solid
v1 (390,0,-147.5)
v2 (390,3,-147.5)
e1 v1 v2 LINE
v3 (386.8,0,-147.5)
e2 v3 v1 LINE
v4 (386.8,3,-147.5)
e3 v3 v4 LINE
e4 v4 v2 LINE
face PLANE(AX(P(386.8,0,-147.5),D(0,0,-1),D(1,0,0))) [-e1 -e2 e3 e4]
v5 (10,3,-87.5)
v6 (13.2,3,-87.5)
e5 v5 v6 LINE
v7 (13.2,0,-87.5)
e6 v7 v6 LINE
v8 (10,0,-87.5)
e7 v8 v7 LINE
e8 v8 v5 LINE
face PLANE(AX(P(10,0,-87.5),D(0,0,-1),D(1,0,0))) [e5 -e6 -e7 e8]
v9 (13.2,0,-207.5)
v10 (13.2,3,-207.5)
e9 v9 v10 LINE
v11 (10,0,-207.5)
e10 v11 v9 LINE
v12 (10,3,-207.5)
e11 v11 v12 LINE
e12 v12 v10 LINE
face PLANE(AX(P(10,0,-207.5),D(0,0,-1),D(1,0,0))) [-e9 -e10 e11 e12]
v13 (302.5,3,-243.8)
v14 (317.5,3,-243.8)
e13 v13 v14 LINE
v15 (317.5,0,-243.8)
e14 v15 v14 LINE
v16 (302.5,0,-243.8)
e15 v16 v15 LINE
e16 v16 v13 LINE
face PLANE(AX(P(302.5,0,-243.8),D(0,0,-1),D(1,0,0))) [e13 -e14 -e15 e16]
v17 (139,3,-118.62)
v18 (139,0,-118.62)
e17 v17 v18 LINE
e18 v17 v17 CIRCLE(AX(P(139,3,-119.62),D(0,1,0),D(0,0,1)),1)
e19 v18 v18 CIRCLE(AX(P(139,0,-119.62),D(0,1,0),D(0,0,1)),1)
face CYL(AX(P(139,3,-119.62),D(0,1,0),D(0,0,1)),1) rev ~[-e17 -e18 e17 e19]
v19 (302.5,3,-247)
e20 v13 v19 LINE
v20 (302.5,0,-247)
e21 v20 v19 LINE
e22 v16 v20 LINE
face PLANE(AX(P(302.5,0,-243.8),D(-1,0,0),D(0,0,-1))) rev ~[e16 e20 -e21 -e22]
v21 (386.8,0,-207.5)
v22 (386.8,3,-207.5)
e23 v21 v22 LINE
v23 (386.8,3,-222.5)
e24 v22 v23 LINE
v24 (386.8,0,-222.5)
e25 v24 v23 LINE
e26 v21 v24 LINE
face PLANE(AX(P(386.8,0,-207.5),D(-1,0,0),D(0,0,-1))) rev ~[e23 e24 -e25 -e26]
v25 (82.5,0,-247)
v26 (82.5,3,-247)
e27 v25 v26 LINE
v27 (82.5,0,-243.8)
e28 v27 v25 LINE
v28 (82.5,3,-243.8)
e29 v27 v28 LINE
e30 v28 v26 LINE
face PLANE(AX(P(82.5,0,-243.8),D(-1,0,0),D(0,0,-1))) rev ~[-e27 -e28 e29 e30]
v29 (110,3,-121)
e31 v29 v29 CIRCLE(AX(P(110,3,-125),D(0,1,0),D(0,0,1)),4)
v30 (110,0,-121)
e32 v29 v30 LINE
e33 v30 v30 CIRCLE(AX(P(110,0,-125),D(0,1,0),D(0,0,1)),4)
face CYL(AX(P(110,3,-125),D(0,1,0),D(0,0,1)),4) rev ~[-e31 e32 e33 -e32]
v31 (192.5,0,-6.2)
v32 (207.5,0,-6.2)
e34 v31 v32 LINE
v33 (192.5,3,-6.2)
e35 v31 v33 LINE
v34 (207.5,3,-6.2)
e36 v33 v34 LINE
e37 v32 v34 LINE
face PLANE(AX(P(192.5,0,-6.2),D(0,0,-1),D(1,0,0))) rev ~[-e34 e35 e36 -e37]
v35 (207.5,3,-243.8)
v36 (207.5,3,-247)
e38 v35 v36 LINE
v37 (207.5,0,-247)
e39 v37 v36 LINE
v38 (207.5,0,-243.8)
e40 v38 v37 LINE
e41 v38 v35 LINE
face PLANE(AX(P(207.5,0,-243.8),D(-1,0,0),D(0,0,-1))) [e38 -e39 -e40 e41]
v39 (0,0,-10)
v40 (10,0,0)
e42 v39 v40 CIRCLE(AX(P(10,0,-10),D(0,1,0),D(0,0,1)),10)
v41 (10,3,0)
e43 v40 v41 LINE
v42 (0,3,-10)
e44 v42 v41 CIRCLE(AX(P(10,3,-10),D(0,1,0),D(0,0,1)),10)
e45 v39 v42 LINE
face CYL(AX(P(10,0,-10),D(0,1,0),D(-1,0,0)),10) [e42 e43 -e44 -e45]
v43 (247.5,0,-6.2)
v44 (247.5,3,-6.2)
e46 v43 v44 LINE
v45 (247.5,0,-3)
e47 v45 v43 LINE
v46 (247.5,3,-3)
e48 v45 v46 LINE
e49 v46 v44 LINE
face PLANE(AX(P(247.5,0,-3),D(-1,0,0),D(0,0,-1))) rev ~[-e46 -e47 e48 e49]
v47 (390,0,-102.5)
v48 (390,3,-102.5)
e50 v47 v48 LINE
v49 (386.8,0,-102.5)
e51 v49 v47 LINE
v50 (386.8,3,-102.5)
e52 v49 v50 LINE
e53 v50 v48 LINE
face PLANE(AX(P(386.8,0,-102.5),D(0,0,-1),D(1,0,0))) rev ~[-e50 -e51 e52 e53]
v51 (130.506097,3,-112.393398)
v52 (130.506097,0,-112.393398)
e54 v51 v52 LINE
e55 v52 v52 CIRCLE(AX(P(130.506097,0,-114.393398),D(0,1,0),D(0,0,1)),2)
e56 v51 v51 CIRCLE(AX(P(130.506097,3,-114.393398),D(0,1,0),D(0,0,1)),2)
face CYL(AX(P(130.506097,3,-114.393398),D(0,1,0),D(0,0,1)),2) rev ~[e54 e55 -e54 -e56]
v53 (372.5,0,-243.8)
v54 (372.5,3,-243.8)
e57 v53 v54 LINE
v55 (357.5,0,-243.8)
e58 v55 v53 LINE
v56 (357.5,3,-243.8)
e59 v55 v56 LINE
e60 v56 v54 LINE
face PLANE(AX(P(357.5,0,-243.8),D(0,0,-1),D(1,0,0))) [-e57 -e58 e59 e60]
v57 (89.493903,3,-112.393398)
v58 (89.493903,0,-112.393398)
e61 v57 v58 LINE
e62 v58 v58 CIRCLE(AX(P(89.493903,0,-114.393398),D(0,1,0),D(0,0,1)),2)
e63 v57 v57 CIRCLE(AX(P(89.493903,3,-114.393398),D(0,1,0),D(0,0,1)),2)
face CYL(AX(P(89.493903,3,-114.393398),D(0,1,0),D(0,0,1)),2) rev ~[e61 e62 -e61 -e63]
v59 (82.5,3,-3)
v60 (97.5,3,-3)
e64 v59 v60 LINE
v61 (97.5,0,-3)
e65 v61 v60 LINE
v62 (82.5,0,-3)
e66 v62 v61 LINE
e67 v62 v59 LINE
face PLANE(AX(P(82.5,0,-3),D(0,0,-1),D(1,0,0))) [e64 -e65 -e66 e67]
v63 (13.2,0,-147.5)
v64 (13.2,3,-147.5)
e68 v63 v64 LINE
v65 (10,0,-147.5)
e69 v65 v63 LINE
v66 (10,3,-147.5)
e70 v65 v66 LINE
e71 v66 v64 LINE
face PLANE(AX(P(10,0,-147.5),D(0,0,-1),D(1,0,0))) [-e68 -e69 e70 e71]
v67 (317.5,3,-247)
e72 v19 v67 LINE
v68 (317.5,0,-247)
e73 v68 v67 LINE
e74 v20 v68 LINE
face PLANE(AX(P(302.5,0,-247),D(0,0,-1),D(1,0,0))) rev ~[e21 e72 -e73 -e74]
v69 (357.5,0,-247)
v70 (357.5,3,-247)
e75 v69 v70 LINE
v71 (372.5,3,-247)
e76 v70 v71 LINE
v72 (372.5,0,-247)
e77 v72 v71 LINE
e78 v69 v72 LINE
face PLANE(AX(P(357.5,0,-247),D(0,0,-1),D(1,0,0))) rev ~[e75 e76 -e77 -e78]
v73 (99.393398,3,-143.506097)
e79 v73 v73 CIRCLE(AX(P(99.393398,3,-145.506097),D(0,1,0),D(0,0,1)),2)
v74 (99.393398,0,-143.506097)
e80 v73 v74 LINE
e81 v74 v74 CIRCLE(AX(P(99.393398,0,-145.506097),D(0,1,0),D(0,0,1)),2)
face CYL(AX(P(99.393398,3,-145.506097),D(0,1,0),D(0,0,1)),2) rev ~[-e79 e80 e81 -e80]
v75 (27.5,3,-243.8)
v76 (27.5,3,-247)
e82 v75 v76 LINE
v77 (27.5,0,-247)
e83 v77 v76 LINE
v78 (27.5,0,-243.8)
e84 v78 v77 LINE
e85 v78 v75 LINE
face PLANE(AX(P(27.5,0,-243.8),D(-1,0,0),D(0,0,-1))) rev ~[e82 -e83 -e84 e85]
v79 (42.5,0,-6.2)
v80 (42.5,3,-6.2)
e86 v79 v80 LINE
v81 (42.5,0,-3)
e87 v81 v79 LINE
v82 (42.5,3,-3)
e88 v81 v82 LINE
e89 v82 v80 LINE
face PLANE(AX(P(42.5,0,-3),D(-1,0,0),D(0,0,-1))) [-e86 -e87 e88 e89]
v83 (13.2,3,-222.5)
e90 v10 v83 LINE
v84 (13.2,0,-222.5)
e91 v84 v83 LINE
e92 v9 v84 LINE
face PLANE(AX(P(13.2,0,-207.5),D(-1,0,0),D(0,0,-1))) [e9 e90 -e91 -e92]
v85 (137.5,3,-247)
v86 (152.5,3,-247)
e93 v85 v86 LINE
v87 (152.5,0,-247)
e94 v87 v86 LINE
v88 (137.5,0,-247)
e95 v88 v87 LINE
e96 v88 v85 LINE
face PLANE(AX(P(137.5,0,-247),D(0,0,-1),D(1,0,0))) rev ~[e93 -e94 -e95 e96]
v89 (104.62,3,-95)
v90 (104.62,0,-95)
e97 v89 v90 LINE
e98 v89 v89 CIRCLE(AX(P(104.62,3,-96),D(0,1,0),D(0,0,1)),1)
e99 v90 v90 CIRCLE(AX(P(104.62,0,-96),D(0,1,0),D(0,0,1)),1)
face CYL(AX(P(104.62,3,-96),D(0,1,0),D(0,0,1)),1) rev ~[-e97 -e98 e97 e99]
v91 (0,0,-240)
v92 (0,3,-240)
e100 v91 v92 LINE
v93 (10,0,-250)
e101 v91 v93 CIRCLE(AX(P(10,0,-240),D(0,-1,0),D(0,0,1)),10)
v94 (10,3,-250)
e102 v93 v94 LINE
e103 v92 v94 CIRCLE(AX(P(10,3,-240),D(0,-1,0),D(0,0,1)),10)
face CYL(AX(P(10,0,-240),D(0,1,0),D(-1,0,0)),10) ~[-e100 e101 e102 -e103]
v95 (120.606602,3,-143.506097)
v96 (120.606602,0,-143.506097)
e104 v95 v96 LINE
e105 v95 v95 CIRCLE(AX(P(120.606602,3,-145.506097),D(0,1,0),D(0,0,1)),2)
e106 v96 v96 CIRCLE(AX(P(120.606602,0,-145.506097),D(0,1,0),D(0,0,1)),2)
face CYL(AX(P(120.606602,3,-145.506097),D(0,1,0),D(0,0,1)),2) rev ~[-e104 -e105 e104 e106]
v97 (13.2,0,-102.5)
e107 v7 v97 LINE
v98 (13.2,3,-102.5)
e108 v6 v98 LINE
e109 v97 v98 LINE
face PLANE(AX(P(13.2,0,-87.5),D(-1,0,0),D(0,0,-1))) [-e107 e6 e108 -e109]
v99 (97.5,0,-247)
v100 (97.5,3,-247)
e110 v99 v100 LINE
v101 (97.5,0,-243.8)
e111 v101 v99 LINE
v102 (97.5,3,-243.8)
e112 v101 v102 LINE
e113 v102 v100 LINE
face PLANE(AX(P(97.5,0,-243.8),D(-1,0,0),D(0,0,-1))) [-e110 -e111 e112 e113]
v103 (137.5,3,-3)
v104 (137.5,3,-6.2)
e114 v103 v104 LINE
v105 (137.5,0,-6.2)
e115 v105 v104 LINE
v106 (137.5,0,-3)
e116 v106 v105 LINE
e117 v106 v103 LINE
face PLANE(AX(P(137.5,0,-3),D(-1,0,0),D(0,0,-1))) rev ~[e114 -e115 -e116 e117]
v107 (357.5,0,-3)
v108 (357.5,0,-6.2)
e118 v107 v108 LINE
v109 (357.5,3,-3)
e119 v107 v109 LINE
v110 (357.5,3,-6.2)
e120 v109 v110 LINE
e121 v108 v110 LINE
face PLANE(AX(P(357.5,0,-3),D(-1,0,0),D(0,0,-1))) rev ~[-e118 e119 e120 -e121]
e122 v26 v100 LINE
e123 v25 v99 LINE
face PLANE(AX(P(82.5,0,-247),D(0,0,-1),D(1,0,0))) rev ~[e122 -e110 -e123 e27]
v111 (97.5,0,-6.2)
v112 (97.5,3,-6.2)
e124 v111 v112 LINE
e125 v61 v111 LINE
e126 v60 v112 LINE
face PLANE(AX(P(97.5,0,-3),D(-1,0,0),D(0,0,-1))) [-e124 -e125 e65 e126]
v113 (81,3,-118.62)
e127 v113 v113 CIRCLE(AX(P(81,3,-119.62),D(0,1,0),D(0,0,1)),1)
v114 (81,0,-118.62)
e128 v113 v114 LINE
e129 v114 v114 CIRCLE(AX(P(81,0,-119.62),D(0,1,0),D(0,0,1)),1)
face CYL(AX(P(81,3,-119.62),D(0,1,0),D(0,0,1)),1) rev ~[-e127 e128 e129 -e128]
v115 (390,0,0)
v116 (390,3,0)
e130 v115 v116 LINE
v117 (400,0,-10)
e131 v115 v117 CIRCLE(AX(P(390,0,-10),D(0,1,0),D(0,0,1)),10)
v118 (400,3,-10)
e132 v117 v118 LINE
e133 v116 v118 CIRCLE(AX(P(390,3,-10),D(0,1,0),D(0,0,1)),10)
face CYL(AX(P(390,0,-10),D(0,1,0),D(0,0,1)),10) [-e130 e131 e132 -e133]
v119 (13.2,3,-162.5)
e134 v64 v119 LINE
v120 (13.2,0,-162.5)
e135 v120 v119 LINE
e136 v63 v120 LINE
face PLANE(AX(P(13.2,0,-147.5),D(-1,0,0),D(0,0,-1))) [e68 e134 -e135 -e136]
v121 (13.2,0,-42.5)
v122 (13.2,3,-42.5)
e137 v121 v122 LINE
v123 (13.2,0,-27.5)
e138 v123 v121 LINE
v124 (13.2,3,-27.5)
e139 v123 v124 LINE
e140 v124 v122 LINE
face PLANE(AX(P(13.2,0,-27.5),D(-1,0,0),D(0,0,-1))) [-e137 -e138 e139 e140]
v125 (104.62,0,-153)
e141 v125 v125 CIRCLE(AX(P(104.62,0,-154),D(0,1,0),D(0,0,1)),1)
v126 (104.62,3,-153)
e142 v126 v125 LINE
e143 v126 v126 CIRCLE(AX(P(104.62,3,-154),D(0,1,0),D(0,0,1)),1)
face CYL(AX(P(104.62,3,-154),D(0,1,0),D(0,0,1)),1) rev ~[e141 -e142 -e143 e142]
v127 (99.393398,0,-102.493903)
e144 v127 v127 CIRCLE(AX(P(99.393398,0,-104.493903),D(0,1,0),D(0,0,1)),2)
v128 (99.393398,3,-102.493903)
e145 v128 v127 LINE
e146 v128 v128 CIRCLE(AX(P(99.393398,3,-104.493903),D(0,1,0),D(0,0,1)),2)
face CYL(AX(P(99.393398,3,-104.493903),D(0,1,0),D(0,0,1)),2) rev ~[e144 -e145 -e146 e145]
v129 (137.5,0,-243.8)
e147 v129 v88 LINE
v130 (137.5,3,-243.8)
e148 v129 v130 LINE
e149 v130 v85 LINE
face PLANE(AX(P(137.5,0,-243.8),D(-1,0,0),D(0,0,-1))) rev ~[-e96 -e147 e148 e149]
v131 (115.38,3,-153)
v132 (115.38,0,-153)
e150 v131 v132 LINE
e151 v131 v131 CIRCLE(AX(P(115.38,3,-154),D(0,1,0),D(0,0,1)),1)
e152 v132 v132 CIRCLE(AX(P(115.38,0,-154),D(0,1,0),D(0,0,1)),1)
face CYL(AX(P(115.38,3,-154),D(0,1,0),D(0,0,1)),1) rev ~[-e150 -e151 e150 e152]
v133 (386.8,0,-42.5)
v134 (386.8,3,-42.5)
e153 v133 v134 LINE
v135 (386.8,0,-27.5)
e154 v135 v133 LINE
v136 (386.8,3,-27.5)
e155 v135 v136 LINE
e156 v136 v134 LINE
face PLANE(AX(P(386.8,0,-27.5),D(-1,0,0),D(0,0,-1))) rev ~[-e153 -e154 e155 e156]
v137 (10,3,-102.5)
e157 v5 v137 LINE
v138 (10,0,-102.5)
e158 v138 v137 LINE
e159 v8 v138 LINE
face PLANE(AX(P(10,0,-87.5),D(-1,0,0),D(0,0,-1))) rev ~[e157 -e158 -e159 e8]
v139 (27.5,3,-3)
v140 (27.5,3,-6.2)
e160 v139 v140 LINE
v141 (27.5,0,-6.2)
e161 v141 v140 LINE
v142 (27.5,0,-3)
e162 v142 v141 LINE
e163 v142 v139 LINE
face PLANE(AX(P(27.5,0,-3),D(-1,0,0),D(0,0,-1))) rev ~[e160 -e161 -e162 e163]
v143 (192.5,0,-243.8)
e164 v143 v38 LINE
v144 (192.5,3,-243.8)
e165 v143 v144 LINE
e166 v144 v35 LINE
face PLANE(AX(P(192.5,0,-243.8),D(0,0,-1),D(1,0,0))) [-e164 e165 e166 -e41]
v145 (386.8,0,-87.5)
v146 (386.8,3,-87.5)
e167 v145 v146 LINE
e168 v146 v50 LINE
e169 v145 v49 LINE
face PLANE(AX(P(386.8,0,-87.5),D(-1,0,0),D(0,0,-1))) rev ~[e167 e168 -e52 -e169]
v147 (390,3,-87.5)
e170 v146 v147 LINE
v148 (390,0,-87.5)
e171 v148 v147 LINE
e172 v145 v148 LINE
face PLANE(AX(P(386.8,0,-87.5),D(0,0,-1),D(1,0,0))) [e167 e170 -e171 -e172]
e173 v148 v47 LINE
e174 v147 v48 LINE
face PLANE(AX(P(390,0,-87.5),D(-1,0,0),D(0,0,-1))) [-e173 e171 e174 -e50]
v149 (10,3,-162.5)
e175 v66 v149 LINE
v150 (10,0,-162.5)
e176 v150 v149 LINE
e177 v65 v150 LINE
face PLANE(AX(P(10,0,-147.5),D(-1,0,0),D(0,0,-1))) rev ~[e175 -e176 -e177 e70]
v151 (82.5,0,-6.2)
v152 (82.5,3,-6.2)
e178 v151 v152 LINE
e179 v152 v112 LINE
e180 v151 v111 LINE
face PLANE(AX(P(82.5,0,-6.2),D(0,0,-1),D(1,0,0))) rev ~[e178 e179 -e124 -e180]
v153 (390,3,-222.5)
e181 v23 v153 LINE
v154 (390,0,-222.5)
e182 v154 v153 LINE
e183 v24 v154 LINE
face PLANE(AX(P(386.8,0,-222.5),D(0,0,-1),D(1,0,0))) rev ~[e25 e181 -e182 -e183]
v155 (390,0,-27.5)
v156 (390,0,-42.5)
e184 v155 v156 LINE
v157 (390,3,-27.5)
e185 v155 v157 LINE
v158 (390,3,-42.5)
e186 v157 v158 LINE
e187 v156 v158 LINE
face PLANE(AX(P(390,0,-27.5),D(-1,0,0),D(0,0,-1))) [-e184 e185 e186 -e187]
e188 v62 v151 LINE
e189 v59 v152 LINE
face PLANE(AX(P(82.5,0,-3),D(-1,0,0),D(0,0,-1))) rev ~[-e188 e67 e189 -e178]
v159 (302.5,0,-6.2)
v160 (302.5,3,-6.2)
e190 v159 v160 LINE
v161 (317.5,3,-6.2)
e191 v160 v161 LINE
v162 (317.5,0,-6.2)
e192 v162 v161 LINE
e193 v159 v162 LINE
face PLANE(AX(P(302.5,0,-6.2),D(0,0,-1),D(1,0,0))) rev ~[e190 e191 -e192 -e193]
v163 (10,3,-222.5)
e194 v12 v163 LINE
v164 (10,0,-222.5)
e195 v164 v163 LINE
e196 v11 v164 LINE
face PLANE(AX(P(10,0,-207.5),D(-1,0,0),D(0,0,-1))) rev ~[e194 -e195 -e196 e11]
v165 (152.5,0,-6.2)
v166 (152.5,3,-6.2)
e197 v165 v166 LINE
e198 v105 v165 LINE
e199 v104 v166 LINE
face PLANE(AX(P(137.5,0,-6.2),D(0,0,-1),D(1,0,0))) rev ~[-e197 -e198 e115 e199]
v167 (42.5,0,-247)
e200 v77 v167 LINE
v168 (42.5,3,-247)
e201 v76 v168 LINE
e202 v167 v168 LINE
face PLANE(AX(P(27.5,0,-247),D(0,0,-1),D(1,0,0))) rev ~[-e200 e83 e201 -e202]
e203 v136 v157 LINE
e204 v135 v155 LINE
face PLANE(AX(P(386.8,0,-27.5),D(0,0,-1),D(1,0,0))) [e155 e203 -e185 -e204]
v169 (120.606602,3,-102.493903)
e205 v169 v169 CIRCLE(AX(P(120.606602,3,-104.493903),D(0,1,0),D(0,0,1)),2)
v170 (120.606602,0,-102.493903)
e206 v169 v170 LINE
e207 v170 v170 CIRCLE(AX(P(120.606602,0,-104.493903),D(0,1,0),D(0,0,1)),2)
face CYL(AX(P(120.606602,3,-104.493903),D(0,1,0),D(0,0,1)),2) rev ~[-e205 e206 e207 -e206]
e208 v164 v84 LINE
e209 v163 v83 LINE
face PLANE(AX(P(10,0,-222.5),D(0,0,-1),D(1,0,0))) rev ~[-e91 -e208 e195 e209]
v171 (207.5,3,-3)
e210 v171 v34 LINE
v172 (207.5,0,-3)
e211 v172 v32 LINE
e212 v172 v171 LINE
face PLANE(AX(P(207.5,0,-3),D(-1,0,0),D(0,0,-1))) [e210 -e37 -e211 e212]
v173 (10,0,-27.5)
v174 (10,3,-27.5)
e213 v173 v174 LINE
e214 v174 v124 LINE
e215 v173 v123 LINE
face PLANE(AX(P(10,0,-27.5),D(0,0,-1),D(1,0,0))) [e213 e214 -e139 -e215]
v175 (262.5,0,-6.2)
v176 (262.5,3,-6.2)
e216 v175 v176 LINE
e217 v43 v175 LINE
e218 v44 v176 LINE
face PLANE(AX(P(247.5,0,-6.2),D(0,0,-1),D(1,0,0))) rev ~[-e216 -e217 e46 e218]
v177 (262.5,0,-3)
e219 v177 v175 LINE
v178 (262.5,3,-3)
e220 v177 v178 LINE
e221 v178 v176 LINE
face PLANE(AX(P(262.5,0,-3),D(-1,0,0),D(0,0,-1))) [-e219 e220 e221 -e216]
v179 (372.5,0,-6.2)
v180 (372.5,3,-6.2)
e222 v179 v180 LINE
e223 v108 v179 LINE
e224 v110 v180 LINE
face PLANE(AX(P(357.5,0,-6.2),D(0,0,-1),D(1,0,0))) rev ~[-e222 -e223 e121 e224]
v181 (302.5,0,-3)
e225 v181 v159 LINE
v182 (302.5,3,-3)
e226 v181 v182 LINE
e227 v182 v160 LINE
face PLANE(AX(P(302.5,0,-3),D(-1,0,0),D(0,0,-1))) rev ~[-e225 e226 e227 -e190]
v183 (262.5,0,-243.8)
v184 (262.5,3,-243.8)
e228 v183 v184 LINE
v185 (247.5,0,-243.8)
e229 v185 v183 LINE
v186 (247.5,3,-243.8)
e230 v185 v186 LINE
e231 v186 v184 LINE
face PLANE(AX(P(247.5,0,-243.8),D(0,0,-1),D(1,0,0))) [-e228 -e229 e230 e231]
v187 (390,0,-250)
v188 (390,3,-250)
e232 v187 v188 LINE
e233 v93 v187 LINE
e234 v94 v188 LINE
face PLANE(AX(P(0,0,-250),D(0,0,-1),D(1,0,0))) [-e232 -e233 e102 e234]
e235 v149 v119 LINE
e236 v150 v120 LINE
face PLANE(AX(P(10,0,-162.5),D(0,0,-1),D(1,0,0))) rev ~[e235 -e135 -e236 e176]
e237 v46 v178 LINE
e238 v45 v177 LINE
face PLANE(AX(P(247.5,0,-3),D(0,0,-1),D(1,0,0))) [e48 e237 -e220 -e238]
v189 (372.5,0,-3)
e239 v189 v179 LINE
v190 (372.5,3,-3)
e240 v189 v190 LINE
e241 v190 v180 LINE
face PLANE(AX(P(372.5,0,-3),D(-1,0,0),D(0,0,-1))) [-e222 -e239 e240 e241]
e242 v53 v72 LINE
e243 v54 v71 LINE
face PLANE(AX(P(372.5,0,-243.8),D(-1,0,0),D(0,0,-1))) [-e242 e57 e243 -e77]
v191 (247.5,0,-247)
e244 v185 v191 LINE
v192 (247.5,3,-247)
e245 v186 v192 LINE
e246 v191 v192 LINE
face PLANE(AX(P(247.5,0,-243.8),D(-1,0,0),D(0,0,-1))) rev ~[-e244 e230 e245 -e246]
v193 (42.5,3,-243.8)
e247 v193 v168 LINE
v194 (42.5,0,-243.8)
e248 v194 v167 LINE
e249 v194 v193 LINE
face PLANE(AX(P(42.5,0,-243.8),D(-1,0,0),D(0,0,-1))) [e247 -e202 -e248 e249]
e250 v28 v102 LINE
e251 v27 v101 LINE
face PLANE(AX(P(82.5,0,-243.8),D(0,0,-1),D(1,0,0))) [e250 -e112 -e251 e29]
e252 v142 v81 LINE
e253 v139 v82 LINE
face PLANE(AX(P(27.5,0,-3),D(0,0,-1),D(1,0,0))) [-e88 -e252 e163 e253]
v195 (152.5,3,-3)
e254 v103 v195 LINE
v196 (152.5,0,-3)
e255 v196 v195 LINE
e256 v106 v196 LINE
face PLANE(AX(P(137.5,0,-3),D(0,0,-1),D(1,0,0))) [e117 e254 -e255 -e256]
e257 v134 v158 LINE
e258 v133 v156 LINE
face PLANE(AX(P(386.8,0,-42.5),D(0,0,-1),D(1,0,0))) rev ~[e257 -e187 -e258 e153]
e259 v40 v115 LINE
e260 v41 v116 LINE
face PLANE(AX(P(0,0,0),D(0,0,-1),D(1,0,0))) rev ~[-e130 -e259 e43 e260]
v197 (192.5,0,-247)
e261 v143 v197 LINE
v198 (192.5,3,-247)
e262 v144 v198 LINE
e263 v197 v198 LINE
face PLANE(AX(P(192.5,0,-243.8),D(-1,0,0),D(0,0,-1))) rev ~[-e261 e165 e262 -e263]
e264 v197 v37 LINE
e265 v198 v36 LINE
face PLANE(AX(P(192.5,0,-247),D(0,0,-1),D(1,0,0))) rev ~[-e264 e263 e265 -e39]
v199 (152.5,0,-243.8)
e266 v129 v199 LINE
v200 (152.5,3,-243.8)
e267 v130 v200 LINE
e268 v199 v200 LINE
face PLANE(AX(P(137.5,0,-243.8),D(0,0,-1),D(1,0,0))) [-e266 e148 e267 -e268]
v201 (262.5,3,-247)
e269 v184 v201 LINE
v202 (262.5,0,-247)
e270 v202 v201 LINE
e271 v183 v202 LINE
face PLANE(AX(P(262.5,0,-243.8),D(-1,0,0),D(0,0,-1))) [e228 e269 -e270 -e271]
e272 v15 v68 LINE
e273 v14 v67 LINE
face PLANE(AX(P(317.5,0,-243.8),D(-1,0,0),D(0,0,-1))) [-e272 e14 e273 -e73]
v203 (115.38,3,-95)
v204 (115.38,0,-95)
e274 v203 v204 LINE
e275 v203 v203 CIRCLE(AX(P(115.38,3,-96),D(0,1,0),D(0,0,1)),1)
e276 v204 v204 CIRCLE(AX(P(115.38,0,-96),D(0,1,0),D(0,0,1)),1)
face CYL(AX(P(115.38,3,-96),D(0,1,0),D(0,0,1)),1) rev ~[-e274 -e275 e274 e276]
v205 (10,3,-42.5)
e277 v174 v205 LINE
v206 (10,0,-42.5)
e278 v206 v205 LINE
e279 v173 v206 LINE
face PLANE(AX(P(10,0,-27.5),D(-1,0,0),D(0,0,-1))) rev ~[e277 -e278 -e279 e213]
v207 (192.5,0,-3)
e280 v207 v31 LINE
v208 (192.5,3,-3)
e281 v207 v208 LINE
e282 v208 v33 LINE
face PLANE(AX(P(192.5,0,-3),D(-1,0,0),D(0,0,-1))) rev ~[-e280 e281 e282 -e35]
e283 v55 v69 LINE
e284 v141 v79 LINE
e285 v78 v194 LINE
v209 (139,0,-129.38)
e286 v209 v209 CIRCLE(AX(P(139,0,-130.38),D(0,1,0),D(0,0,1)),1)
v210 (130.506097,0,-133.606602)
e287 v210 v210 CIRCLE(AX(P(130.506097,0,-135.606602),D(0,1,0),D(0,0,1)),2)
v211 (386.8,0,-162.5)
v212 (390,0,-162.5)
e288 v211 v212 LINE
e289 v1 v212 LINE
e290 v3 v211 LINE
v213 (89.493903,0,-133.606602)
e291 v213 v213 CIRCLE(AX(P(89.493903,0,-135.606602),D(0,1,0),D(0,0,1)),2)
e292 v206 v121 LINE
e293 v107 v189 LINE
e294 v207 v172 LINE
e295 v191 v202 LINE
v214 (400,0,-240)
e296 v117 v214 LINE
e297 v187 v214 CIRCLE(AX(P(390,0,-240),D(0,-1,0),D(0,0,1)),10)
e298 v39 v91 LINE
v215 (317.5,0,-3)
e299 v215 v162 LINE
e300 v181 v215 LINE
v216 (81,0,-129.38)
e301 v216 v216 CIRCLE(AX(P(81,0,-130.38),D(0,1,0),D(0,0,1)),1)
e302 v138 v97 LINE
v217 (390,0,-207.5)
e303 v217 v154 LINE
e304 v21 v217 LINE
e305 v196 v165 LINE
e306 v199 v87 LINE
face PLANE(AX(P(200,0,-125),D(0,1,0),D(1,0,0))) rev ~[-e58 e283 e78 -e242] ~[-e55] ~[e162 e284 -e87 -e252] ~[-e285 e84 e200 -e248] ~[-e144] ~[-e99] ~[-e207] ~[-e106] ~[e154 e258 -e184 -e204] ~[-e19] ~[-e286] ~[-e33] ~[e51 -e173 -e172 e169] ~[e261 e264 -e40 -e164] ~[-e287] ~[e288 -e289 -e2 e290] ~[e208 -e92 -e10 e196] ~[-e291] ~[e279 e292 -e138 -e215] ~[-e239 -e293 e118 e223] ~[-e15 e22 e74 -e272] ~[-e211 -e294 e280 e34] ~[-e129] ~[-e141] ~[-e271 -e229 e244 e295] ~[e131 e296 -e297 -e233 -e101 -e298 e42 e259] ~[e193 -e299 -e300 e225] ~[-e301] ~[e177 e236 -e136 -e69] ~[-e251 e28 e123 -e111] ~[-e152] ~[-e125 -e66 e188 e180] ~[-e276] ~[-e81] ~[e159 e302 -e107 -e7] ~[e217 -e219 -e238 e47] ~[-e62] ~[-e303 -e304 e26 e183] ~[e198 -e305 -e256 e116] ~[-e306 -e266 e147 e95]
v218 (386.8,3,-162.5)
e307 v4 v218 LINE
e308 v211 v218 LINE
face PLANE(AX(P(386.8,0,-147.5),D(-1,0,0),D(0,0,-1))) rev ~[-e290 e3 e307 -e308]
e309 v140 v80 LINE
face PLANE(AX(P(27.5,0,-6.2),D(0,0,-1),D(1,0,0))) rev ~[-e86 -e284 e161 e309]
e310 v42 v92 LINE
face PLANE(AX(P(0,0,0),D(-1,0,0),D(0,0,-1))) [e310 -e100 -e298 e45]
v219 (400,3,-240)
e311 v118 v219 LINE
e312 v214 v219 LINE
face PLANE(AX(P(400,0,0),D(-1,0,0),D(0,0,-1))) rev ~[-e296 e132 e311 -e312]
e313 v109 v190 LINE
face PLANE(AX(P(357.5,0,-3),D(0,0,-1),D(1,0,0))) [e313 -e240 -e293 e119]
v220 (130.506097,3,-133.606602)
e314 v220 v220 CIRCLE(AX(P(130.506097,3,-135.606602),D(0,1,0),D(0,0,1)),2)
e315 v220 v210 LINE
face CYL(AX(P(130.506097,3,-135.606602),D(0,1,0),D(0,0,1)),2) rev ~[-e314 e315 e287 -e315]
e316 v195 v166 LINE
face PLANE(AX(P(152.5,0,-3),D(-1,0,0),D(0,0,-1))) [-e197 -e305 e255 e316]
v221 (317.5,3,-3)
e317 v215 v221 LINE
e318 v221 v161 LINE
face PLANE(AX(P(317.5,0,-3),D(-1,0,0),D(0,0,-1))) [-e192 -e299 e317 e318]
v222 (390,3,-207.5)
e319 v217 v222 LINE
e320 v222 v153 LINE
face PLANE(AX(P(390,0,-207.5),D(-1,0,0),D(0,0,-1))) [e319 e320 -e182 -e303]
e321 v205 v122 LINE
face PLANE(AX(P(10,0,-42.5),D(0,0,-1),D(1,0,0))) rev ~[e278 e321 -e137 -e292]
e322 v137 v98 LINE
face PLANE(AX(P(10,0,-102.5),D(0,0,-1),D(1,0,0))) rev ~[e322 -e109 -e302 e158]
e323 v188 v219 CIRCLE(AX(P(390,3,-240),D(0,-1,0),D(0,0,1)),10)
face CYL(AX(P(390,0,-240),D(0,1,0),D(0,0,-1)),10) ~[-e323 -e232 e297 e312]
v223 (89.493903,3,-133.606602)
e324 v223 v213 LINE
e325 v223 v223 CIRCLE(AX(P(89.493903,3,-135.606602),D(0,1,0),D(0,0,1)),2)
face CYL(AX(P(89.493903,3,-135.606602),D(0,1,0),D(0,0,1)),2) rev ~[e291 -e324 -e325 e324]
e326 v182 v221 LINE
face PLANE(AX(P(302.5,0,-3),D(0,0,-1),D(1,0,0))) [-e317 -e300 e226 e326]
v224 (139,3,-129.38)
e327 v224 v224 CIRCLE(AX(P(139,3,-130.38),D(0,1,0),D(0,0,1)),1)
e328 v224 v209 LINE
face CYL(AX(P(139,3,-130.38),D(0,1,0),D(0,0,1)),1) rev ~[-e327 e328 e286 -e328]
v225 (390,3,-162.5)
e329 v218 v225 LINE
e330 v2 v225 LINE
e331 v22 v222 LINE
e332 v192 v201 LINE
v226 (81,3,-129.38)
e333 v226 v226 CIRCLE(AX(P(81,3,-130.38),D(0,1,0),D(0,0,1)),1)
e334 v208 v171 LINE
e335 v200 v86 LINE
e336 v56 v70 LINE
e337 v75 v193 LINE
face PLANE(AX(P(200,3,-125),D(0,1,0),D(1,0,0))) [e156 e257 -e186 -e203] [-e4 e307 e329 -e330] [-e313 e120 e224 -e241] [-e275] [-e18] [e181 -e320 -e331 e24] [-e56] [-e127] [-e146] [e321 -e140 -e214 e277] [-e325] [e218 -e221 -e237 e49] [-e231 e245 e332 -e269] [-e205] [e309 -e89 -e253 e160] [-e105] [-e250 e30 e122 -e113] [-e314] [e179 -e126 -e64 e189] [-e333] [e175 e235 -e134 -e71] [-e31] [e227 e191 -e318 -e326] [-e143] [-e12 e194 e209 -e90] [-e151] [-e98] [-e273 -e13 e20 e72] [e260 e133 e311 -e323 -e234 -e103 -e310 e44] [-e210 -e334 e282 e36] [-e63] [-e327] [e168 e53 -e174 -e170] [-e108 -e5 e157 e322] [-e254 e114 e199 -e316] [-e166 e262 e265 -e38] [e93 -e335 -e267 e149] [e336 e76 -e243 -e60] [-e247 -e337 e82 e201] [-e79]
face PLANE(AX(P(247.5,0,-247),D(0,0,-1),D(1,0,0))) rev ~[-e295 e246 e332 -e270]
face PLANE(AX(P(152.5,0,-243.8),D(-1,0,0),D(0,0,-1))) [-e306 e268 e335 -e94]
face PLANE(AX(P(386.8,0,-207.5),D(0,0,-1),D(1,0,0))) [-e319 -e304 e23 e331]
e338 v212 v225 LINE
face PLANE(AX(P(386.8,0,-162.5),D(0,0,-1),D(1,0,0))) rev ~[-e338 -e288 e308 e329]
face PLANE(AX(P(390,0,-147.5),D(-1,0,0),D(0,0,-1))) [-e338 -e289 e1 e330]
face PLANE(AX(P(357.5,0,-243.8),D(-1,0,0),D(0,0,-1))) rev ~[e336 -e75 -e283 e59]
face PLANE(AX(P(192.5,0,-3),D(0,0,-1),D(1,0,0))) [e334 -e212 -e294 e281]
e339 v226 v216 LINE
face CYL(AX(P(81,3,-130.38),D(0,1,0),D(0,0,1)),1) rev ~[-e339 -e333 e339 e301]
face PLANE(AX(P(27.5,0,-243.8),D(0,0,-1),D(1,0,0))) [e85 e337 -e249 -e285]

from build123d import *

# Parameters (mm, degrees)
SKETCH1_W           = 400
SKETCH1_H           = 250
SKETCH1_W_2         = 15
SKETCH1_H_2         = 3.2
SKETCH1_W_3         = 3.2
SKETCH1_H_3         = 15
BOSS_EXTRUDE2_DEPTH = 3
FILLET1_R           = 10
SKETCH2_R           = 2
SKETCH2_R_2         = 1
SKETCH2_R_3         = 4
CUT_EXTRUDE1_DEPTH  = 472.708596487


with BuildPart() as part:
    # Sketch1 → Boss-Extrude2 (new body)
    with BuildSketch(Plane(origin=(0, 0, 0), x_dir=(1, 0, 0), z_dir=(0, 1, 0))):
        with Locations((200, 125)):
            Rectangle(SKETCH1_W, SKETCH1_H)
        with Locations((90, 4.6)):
            Rectangle(SKETCH1_W_2, SKETCH1_H_2, mode=Mode.SUBTRACT)
        with Locations((35, 4.6)):
            Rectangle(SKETCH1_W_2, SKETCH1_H_2, mode=Mode.SUBTRACT)
        with Locations((145, 4.6)):
            Rectangle(SKETCH1_W_2, SKETCH1_H_2, mode=Mode.SUBTRACT)
        with Locations((200, 4.6)):
            Rectangle(SKETCH1_W_2, SKETCH1_H_2, mode=Mode.SUBTRACT)
        with Locations((255, 4.6)):
            Rectangle(SKETCH1_W_2, SKETCH1_H_2, mode=Mode.SUBTRACT)
        with Locations((310, 4.6)):
            Rectangle(SKETCH1_W_2, SKETCH1_H_2, mode=Mode.SUBTRACT)
        with Locations((365, 4.6)):
            Rectangle(SKETCH1_W_2, SKETCH1_H_2, mode=Mode.SUBTRACT)
        with Locations((365, 245.4)):
            Rectangle(SKETCH1_W_2, SKETCH1_H_2, mode=Mode.SUBTRACT)
        with Locations((310, 245.4)):
            Rectangle(SKETCH1_W_2, SKETCH1_H_2, mode=Mode.SUBTRACT)
        with Locations((255, 245.4)):
            Rectangle(SKETCH1_W_2, SKETCH1_H_2, mode=Mode.SUBTRACT)
        with Locations((200, 245.4)):
            Rectangle(SKETCH1_W_2, SKETCH1_H_2, mode=Mode.SUBTRACT)
        with Locations((35, 245.4)):
            Rectangle(SKETCH1_W_2, SKETCH1_H_2, mode=Mode.SUBTRACT)
        with Locations((90, 245.4)):
            Rectangle(SKETCH1_W_2, SKETCH1_H_2, mode=Mode.SUBTRACT)
        with Locations((145, 245.4)):
            Rectangle(SKETCH1_W_2, SKETCH1_H_2, mode=Mode.SUBTRACT)
        with Locations((11.6, 95)):
            Rectangle(SKETCH1_W_3, SKETCH1_H_3, mode=Mode.SUBTRACT)
        with Locations((11.6, 35)):
            Rectangle(SKETCH1_W_3, SKETCH1_H_3, mode=Mode.SUBTRACT)
        with Locations((11.6, 155)):
            Rectangle(SKETCH1_W_3, SKETCH1_H_3, mode=Mode.SUBTRACT)
        with Locations((11.6, 215)):
            Rectangle(SKETCH1_W_3, SKETCH1_H_3, mode=Mode.SUBTRACT)
        with Locations((388.4, 35)):
            Rectangle(SKETCH1_W_3, SKETCH1_H_3, mode=Mode.SUBTRACT)
        with Locations((388.4, 95)):
            Rectangle(SKETCH1_W_3, SKETCH1_H_3, mode=Mode.SUBTRACT)
        with Locations((388.4, 155)):
            Rectangle(SKETCH1_W_3, SKETCH1_H_3, mode=Mode.SUBTRACT)
        with Locations((388.4, 215)):
            Rectangle(SKETCH1_W_3, SKETCH1_H_3, mode=Mode.SUBTRACT)
    extrude(amount=BOSS_EXTRUDE2_DEPTH)

    # Fillet1
    fillet1_edges = [part.edges().sort_by_distance(p)[0] for p in [
        (0, 1.5, -250),
        (400, 1.5, -250),
        (400, 1.5, 0),
        (0, 1.5, 0),
    ]]
    fillet(fillet1_edges, radius=FILLET1_R)

    # Sketch2 → Cut-Extrude1 (cut, through all)
    with BuildSketch(Plane(origin=(0, 3, 0), x_dir=(1, 0, 0), z_dir=(0, 1, 0))):
        with Locations(Location((89.493903346, 135.606601718, 0), (0, 0, 270))):
            Circle(SKETCH2_R)
        with Locations(Location((120.606601718, 145.506096654, 0), (0, 0, 270))):
            Circle(SKETCH2_R)
        with Locations(Location((130.506096654, 135.606601718, 0), (0, 0, 270))):
            Circle(SKETCH2_R)
        with Locations(Location((99.393398282, 104.493903346, 0), (0, 0, 270))):
            Circle(SKETCH2_R)
        with Locations(Location((120.606601718, 104.493903346, 0), (0, 0, 270))):
            Circle(SKETCH2_R)
        with Locations(Location((89.493903346, 114.393398282, 0), (0, 0, 270))):
            Circle(SKETCH2_R)
        with Locations(Location((81, 119.62, 0), (0, 0, 270))):
            Circle(SKETCH2_R_2)
        with Locations(Location((110, 125, 0), (0, 0, 270))):
            Circle(SKETCH2_R_3)
        with Locations(Location((81, 130.38, 0), (0, 0, 270))):
            Circle(SKETCH2_R_2)
        with Locations(Location((99.393398282, 145.506096654, 0), (0, 0, 270))):
            Circle(SKETCH2_R)
        with Locations(Location((104.62, 154, 0), (0, 0, 270))):
            Circle(SKETCH2_R_2)
        with Locations(Location((115.38, 154, 0), (0, 0, 270))):
            Circle(SKETCH2_R_2)
        with Locations(Location((139, 130.38, 0), (0, 0, 270))):
            Circle(SKETCH2_R_2)
        with Locations(Location((139, 119.62, 0), (0, 0, 270))):
            Circle(SKETCH2_R_2)
        with Locations(Location((130.506096654, 114.393398282, 0), (0, 0, 270))):
            Circle(SKETCH2_R)
        with Locations(Location((115.38, 96, 0), (0, 0, 270))):
            Circle(SKETCH2_R_2)
        with Locations(Location((104.62, 96, 0), (0, 0, 270))):
            Circle(SKETCH2_R_2)
    extrude(amount=-CUT_EXTRUDE1_DEPTH, mode=Mode.SUBTRACT)


solid = part.part
